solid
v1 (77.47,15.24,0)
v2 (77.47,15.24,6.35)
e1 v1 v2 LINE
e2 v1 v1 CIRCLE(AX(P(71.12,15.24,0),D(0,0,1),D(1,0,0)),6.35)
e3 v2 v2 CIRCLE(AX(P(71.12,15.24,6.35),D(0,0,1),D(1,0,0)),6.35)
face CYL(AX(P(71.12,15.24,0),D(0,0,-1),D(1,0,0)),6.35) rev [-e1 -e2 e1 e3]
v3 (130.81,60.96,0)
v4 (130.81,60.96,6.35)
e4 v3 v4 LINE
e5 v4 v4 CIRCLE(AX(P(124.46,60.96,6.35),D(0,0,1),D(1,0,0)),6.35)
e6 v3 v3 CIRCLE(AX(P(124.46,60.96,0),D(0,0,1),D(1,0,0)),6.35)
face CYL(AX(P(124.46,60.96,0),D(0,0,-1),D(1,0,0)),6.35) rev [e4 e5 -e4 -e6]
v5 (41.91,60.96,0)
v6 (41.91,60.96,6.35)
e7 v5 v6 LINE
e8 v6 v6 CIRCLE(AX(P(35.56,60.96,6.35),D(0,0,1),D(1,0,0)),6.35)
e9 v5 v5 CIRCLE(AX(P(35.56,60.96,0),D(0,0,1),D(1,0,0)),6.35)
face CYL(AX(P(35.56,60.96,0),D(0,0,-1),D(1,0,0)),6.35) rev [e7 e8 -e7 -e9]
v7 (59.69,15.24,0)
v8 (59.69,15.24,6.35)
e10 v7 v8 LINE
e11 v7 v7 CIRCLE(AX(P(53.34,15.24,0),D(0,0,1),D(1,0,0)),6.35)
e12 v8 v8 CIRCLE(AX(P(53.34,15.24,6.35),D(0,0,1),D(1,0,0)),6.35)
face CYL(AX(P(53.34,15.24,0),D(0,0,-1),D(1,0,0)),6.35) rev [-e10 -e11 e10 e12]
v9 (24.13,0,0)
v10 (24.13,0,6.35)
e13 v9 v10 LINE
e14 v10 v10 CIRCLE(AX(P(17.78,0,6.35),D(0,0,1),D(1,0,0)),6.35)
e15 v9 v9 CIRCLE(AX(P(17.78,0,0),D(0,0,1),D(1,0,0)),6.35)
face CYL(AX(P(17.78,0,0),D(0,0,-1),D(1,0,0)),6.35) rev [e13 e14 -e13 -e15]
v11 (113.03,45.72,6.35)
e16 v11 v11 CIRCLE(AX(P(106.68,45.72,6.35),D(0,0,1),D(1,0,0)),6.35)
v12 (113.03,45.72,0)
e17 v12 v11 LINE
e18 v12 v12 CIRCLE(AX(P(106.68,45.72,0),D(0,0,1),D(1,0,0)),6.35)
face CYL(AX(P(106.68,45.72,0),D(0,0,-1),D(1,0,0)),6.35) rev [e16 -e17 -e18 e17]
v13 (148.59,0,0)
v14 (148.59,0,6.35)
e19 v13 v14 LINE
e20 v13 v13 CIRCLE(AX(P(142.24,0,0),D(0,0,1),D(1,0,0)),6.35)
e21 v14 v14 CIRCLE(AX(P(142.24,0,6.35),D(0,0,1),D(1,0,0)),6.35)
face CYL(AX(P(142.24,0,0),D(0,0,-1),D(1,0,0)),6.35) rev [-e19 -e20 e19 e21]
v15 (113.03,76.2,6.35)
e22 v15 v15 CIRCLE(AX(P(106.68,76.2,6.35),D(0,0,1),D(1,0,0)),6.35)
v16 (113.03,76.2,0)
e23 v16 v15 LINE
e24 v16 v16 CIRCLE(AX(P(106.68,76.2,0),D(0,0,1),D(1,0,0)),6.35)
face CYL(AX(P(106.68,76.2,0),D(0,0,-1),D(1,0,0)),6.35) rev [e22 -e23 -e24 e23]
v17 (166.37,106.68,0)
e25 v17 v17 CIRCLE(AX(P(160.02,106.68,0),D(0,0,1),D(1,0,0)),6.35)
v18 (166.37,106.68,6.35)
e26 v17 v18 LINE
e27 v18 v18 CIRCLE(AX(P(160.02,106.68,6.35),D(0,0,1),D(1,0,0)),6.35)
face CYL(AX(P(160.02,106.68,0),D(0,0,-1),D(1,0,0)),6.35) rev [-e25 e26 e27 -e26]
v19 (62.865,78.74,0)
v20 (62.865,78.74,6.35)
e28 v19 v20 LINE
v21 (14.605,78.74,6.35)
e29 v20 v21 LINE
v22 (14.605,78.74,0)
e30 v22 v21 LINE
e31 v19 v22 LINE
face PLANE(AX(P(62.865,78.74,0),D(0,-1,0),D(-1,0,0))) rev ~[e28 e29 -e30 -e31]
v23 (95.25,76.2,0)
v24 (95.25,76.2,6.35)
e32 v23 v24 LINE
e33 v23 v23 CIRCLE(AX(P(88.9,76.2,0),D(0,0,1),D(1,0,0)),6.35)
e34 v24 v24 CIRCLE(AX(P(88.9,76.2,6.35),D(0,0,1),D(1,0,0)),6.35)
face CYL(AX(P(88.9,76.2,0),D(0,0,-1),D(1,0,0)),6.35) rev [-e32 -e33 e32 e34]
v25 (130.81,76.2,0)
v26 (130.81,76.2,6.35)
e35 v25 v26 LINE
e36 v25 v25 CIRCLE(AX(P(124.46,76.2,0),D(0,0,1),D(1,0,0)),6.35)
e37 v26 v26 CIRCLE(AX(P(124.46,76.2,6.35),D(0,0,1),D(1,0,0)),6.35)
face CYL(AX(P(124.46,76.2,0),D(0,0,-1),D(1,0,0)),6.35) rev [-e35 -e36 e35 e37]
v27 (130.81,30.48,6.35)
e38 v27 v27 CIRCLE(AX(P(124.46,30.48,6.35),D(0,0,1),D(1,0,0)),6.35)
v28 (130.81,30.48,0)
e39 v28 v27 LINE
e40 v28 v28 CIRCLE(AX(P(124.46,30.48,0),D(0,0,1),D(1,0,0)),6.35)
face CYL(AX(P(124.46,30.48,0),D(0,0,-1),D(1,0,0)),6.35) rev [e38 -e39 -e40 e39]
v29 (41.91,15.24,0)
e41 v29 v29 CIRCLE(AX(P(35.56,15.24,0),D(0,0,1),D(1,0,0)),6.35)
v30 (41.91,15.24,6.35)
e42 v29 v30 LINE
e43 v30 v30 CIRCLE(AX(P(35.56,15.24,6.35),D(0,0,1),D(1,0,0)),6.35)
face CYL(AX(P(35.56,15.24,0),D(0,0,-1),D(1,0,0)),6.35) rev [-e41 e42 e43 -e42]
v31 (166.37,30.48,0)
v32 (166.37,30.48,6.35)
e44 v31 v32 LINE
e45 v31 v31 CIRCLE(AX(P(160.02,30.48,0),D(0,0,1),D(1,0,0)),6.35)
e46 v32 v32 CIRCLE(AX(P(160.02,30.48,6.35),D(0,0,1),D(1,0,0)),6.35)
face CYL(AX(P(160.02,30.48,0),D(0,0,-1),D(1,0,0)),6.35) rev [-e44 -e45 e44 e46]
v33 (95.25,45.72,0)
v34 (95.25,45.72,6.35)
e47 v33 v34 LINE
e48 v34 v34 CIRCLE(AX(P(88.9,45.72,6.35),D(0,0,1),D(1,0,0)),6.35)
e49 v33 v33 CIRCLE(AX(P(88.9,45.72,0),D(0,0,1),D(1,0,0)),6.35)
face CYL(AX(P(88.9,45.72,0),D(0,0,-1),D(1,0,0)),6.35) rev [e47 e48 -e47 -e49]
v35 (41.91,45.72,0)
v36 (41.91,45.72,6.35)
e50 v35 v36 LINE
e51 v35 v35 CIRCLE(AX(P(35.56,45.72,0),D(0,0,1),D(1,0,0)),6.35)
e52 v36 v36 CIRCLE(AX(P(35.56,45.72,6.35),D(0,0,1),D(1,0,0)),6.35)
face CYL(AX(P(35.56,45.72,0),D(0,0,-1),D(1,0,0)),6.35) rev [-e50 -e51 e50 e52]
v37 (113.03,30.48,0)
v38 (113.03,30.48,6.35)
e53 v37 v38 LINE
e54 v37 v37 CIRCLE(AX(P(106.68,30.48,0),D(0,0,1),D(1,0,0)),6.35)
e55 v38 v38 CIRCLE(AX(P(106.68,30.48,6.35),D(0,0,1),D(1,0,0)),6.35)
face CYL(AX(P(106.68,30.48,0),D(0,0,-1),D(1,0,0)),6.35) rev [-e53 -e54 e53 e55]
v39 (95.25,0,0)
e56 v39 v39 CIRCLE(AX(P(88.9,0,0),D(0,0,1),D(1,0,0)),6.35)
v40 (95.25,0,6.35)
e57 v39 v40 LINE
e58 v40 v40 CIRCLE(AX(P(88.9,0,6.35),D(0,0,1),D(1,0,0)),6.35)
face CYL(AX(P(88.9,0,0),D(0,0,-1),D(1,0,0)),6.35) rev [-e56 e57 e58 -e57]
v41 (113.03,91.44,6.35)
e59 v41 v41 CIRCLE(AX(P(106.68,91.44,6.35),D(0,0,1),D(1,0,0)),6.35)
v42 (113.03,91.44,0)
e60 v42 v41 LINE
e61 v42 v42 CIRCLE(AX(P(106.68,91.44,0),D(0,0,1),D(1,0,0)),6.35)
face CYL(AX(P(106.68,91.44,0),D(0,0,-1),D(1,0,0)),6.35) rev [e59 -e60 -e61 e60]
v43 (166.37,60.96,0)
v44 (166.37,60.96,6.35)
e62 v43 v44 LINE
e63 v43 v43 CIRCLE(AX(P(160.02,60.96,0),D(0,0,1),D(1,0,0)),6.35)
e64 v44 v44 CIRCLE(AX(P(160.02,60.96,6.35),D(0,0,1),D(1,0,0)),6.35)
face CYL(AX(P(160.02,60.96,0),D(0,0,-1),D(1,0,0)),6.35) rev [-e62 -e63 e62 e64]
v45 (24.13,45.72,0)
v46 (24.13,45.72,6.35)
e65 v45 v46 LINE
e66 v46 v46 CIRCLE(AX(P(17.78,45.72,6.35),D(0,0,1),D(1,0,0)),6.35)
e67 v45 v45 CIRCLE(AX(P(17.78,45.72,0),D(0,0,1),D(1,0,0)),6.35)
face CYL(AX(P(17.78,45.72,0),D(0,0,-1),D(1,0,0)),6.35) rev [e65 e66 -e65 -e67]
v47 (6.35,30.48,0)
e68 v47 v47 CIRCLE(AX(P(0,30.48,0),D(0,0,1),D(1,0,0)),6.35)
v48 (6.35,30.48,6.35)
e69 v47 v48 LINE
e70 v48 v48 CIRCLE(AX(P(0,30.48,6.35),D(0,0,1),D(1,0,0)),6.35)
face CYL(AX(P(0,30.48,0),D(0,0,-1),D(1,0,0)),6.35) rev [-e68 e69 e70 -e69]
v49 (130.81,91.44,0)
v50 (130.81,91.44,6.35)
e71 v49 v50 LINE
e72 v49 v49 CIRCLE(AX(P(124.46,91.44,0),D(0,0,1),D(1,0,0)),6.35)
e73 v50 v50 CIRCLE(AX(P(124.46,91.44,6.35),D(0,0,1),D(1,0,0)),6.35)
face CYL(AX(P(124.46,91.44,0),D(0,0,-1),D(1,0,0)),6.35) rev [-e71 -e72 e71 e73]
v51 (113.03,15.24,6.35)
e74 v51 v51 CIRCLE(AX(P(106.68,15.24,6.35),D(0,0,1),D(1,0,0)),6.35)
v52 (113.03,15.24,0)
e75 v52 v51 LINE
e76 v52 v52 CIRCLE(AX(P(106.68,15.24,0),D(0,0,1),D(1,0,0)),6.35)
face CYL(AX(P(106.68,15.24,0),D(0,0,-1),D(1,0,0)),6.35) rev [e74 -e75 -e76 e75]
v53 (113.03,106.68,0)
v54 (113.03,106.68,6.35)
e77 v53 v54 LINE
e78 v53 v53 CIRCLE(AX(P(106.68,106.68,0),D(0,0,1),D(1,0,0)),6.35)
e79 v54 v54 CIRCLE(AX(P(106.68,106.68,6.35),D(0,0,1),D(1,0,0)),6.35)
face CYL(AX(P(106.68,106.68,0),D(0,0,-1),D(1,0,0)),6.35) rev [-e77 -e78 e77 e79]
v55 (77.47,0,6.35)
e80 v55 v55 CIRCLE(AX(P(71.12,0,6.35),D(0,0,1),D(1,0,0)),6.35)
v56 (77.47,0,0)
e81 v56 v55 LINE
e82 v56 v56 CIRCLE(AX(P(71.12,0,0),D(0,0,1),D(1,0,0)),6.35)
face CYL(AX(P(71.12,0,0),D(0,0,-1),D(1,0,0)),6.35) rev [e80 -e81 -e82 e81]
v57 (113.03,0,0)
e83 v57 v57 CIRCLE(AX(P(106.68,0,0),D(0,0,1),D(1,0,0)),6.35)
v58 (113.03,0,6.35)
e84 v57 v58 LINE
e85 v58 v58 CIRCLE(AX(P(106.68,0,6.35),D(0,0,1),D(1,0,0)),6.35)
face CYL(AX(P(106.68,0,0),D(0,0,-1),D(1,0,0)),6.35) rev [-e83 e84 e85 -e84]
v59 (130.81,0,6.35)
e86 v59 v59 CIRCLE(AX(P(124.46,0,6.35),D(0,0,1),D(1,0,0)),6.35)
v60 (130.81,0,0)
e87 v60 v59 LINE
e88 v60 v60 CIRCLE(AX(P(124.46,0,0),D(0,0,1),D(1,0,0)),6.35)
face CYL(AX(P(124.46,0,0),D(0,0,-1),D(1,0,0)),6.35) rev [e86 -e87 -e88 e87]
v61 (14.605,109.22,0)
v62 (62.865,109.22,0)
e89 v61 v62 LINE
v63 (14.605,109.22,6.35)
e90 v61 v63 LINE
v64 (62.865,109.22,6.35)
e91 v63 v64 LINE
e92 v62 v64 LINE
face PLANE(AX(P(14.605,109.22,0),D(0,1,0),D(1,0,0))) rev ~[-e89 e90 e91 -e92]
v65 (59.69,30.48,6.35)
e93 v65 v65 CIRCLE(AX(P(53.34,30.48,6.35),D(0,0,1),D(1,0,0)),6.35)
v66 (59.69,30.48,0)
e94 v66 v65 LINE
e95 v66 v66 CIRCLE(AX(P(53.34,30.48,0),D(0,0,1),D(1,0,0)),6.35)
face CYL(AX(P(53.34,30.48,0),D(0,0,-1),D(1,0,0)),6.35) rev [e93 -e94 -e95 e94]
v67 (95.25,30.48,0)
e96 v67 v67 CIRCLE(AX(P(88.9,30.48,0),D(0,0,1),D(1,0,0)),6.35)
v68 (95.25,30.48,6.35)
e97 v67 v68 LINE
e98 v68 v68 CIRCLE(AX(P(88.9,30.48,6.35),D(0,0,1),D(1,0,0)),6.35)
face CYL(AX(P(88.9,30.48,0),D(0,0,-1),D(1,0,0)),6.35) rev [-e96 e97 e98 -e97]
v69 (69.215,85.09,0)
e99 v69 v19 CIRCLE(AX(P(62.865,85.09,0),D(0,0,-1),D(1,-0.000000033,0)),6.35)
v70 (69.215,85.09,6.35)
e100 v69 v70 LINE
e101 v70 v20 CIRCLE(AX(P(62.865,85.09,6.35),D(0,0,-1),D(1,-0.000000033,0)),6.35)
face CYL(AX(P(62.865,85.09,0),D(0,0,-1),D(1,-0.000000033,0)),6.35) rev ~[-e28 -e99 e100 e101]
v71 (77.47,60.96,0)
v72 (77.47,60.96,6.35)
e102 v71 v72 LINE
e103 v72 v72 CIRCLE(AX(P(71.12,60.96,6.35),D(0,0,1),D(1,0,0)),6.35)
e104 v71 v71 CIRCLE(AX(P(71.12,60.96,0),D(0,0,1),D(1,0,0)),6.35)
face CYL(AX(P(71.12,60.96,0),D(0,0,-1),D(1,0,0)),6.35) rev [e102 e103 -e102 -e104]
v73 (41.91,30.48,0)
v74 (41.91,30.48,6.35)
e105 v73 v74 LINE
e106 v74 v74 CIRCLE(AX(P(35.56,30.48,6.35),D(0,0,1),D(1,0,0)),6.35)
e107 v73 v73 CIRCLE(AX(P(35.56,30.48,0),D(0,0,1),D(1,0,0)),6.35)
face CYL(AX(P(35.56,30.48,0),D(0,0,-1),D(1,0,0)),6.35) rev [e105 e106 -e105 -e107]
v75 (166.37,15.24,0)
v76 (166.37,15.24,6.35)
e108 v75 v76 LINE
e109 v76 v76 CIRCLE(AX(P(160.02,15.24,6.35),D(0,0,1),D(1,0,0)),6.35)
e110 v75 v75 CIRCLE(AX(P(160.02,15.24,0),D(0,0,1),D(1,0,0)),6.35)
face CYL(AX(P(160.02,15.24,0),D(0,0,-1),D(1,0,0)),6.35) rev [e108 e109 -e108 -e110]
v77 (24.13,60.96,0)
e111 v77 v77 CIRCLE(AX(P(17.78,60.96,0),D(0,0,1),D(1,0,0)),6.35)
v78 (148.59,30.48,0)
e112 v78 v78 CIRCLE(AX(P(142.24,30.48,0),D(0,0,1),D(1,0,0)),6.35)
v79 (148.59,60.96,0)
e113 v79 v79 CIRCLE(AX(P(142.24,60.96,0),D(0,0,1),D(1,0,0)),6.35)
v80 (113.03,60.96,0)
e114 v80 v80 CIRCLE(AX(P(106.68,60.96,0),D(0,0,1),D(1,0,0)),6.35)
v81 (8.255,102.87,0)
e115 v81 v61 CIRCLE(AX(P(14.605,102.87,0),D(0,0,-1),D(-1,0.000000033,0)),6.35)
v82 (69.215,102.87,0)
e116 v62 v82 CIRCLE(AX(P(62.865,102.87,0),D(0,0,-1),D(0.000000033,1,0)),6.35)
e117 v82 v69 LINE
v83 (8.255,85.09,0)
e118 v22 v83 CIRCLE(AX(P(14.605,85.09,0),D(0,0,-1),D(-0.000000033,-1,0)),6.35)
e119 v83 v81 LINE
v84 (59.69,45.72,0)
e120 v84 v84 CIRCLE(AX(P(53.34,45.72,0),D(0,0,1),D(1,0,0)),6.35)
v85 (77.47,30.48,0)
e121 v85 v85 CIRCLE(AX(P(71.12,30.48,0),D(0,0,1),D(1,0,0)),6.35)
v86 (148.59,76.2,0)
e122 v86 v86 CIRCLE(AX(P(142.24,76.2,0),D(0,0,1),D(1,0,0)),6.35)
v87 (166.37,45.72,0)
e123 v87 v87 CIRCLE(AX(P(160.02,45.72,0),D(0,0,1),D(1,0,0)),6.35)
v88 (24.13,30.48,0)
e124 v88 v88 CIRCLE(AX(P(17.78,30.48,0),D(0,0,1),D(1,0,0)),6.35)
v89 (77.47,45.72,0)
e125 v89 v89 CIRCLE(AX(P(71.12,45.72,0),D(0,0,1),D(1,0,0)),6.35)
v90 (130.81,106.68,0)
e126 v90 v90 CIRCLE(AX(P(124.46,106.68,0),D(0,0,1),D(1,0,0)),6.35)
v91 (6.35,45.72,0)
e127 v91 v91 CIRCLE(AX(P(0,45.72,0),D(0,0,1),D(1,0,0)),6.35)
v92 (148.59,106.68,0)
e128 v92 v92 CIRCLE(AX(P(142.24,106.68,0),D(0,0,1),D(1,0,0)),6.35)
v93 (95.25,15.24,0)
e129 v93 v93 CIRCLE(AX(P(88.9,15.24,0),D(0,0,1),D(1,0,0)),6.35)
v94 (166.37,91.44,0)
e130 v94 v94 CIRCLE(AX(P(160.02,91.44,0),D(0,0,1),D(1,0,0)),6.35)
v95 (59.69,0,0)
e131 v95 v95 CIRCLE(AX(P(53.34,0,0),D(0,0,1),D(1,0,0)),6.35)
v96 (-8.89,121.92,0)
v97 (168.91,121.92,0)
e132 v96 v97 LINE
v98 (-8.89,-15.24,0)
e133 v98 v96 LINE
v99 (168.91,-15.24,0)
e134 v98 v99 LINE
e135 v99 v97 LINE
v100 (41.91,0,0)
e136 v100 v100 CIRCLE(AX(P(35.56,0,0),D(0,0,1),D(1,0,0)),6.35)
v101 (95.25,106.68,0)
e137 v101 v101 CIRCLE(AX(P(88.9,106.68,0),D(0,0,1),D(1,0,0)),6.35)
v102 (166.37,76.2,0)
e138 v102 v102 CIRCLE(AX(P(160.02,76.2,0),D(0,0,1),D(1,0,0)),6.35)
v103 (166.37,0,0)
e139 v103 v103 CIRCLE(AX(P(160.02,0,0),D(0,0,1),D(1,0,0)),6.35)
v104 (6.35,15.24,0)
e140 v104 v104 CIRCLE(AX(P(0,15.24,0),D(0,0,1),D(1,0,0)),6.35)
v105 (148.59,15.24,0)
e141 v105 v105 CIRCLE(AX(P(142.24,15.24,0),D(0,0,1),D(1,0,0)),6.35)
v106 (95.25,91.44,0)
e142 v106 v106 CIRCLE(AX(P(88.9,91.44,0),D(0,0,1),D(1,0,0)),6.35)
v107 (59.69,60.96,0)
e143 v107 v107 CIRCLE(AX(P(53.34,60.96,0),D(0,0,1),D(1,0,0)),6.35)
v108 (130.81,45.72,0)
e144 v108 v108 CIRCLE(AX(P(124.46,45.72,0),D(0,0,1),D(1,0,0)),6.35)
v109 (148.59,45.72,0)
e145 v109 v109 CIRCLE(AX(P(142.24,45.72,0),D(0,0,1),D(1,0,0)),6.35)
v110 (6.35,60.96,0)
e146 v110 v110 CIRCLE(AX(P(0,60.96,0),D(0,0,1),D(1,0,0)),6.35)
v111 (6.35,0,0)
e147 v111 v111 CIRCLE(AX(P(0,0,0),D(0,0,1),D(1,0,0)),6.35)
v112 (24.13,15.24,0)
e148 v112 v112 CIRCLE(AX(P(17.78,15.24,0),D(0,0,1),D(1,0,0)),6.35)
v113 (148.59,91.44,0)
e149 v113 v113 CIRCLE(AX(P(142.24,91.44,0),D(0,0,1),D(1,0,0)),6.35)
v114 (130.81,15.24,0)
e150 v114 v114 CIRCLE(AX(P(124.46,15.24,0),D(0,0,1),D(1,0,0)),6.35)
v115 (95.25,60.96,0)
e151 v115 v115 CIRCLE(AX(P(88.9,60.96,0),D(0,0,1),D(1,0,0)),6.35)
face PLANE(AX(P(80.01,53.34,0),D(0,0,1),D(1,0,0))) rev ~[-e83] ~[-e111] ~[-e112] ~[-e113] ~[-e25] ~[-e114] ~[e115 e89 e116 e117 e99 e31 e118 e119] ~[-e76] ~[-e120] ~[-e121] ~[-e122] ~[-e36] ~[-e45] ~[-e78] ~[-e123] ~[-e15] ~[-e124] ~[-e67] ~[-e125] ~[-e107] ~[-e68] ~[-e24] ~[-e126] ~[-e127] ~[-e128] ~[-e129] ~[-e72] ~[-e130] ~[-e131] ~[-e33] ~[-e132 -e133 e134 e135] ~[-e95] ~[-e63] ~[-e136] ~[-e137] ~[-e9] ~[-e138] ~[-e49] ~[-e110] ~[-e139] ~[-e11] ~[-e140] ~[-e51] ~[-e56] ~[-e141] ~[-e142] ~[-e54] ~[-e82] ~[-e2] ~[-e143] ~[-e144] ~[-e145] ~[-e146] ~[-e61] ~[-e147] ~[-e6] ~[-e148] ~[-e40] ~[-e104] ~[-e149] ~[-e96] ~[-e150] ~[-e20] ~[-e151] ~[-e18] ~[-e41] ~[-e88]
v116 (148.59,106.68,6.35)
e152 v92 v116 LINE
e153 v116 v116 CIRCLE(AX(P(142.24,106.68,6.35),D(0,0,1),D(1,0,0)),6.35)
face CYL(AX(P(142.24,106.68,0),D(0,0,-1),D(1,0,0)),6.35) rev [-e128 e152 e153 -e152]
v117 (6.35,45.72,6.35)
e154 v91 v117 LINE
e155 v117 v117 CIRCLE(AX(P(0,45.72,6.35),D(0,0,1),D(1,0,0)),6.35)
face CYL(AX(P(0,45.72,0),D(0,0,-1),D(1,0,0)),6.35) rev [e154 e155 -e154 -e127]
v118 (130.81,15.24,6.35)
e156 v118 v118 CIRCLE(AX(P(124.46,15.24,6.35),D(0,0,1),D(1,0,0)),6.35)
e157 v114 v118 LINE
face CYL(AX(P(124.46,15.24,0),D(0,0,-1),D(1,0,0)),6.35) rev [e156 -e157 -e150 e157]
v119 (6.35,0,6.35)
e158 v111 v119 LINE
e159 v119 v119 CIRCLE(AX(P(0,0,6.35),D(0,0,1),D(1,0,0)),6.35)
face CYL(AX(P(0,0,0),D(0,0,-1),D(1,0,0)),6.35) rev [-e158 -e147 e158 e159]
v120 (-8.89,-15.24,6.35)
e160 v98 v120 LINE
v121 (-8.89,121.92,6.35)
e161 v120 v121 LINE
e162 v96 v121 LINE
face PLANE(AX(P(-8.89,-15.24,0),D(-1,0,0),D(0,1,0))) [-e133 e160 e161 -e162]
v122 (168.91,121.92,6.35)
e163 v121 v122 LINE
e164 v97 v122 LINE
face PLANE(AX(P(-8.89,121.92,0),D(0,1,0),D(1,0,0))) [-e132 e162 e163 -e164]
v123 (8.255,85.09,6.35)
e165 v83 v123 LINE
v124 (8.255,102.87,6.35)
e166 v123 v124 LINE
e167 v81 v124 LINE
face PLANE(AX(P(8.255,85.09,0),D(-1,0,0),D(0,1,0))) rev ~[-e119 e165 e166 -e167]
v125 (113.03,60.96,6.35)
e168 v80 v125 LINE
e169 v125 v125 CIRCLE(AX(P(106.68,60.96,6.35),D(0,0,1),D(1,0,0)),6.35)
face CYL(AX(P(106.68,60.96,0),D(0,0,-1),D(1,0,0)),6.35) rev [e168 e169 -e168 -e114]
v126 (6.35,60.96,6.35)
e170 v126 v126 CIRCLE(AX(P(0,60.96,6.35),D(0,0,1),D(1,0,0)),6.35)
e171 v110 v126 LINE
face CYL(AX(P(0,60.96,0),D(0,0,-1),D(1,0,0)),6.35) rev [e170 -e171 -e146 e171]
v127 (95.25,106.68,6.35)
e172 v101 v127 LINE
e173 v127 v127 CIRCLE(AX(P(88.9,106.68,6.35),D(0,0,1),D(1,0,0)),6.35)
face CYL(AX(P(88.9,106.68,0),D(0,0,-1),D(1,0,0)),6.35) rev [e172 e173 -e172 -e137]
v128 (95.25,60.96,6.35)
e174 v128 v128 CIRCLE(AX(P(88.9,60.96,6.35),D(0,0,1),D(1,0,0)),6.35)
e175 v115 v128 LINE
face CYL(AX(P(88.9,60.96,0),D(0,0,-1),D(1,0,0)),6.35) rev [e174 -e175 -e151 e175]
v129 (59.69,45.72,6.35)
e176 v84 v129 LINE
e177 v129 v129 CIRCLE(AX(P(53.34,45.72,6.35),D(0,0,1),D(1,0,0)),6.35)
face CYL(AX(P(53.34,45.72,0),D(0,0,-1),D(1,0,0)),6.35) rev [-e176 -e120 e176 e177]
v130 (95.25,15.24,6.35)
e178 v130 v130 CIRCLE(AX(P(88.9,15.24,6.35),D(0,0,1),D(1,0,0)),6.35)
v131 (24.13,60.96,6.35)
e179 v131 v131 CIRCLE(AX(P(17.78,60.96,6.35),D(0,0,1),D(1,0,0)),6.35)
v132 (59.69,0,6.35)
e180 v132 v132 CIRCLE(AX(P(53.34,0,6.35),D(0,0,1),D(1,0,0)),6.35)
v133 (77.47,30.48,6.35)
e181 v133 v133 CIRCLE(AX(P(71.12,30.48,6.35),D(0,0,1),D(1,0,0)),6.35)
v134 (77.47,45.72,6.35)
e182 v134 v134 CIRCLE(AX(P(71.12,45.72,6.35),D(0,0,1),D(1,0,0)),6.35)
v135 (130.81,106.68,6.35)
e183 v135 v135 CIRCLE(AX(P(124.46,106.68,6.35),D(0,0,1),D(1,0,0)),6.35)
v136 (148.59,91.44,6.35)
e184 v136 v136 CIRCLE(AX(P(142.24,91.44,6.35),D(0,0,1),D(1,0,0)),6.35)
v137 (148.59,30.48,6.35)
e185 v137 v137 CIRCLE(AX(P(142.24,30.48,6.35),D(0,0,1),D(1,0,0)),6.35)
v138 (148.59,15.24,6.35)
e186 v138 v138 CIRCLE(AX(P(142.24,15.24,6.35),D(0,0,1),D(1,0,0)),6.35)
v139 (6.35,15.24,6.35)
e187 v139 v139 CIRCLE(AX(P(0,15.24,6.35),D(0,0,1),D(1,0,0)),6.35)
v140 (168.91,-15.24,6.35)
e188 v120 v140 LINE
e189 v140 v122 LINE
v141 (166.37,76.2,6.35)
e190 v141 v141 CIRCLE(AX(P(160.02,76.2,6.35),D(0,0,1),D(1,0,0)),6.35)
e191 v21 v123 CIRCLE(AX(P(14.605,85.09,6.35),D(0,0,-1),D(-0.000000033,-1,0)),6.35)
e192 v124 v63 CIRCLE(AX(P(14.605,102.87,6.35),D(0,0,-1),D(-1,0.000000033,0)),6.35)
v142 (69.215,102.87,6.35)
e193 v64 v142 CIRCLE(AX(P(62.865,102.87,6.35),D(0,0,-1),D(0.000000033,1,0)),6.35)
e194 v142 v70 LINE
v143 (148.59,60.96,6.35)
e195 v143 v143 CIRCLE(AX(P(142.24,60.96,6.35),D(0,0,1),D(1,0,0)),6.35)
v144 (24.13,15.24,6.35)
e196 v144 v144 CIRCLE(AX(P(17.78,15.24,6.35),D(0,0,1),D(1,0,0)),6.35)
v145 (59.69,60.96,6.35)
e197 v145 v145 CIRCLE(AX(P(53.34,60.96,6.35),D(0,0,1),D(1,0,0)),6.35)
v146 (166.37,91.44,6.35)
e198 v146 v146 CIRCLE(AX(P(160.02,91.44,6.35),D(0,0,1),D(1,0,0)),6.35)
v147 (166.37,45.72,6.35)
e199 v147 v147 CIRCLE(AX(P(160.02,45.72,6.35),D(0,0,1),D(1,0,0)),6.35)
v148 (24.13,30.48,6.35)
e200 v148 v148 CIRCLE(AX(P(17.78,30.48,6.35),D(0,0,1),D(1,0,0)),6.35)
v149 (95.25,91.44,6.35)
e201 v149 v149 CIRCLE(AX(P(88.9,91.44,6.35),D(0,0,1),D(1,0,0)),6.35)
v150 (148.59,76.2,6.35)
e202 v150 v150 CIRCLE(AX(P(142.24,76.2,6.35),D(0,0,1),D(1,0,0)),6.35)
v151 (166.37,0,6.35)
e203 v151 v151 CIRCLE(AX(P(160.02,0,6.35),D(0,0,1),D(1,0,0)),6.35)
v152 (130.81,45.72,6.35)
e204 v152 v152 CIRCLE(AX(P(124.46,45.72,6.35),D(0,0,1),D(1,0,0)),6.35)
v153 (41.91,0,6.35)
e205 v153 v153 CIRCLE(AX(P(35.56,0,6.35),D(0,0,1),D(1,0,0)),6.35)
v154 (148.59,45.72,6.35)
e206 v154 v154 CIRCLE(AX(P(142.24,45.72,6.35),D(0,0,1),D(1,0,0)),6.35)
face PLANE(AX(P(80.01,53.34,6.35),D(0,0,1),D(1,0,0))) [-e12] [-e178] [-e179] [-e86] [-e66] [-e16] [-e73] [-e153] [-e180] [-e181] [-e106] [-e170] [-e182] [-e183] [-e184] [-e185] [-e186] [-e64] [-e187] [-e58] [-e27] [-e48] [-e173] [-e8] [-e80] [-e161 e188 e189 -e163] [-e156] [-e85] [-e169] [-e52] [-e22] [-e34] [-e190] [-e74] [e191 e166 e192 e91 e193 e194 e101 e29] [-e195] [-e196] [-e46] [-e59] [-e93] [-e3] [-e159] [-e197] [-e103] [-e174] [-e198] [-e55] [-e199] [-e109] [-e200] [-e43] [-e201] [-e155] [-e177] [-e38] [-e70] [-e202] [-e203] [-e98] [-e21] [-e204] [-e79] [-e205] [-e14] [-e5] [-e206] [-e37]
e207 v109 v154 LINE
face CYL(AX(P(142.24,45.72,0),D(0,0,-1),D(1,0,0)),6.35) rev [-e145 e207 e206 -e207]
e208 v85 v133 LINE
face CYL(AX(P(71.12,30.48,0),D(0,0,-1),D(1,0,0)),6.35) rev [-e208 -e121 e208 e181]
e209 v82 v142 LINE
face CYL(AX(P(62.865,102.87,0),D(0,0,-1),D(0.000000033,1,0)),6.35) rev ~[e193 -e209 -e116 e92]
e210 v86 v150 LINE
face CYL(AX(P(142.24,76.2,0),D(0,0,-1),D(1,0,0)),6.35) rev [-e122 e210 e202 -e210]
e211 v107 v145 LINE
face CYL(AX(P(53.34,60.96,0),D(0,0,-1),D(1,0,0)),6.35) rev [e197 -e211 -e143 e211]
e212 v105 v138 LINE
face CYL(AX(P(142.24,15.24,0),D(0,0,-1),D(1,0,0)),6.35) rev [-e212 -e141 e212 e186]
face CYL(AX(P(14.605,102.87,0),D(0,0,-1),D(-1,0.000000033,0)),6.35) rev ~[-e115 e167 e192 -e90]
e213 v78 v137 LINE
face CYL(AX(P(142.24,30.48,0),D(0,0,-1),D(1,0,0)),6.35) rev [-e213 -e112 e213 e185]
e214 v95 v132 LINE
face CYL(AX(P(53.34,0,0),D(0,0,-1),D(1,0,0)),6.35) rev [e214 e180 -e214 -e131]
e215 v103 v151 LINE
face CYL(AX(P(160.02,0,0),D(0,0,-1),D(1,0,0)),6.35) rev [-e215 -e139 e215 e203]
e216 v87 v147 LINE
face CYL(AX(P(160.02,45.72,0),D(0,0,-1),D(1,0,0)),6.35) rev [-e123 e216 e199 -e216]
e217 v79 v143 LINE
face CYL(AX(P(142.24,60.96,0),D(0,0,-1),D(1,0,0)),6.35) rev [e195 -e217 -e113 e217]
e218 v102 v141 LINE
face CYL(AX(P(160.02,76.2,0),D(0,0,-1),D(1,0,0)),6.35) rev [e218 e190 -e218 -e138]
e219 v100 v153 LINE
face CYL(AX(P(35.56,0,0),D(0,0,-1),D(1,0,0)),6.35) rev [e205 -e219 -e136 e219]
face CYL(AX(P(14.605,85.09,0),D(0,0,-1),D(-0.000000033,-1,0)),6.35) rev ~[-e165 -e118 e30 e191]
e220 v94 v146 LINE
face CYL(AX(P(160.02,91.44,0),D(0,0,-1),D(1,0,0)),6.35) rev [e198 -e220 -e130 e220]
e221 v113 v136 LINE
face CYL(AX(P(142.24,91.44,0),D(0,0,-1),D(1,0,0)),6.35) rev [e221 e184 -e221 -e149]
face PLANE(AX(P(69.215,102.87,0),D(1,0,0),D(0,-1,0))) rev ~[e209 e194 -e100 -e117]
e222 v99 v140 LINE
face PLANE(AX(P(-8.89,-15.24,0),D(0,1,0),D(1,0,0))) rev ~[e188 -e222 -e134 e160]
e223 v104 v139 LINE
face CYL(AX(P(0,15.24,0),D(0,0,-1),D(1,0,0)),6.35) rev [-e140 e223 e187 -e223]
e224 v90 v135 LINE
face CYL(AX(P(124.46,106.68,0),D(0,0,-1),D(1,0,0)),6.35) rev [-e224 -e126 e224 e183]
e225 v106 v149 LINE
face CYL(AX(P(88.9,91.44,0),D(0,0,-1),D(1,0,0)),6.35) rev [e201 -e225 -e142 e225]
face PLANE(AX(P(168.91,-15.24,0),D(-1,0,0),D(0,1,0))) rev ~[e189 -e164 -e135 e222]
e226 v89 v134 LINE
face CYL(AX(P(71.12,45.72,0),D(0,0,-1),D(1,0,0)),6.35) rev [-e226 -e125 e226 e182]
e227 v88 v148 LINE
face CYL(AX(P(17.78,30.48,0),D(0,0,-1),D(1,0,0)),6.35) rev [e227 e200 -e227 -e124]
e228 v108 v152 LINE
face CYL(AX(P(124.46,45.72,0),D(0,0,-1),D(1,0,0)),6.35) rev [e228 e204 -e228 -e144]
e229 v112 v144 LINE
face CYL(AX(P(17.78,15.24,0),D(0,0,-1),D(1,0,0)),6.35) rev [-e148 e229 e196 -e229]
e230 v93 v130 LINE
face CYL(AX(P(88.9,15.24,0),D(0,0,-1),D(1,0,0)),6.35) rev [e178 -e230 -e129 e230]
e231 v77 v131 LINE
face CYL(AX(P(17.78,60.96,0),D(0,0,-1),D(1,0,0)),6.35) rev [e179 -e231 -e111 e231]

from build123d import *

# Parameters (mm, degrees)
F0_W     = 177.8
F0_H     = 137.16
F0_R     = 6.35
F1_DEPTH = 6.35


with BuildPart() as f1:
    # F0 (on Top) → F1 (new body)
    with BuildSketch(Plane.XY):
        with Locations((80.01, 53.34)):
            Rectangle(F0_W, F0_H)
        Circle(F0_R, mode=Mode.SUBTRACT)
        with Locations((17.78, 0)):
            Circle(F0_R, mode=Mode.SUBTRACT)
        with Locations((0, 15.24)):
            Circle(F0_R, mode=Mode.SUBTRACT)
        with Locations((17.78, 15.24)):
            Circle(F0_R, mode=Mode.SUBTRACT)
        with Locations((35.56, 0)):
            Circle(F0_R, mode=Mode.SUBTRACT)
        with Locations((53.34, 0)):
            Circle(F0_R, mode=Mode.SUBTRACT)
        with Locations((71.12, 0)):
            Circle(F0_R, mode=Mode.SUBTRACT)
        with Locations((35.56, 15.24)):
            Circle(F0_R, mode=Mode.SUBTRACT)
        with Locations((53.34, 15.24)):
            Circle(F0_R, mode=Mode.SUBTRACT)
        with Locations((71.12, 15.24)):
            Circle(F0_R, mode=Mode.SUBTRACT)
        with Locations((0, 30.48)):
            Circle(F0_R, mode=Mode.SUBTRACT)
        with Locations((17.78, 30.48)):
            Circle(F0_R, mode=Mode.SUBTRACT)
        with Locations((0, 45.72)):
            Circle(F0_R, mode=Mode.SUBTRACT)
        with Locations((17.78, 45.72)):
            Circle(F0_R, mode=Mode.SUBTRACT)
        with Locations((35.56, 30.48)):
            Circle(F0_R, mode=Mode.SUBTRACT)
        with Locations((53.34, 30.48)):
            Circle(F0_R, mode=Mode.SUBTRACT)
        with Locations((71.12, 30.48)):
            Circle(F0_R, mode=Mode.SUBTRACT)
        with Locations((35.56, 45.72)):
            Circle(F0_R, mode=Mode.SUBTRACT)
        with Locations((53.34, 45.72)):
            Circle(F0_R, mode=Mode.SUBTRACT)
        with Locations((71.12, 45.72)):
            Circle(F0_R, mode=Mode.SUBTRACT)
        with Locations((88.9, 0)):
            Circle(F0_R, mode=Mode.SUBTRACT)
        with Locations((106.68, 0)):
            Circle(F0_R, mode=Mode.SUBTRACT)
        with Locations((124.46, 0)):
            Circle(F0_R, mode=Mode.SUBTRACT)
        with Locations((88.9, 15.24)):
            Circle(F0_R, mode=Mode.SUBTRACT)
        with Locations((106.68, 15.24)):
            Circle(F0_R, mode=Mode.SUBTRACT)
        with Locations((124.46, 15.24)):
            Circle(F0_R, mode=Mode.SUBTRACT)
        with Locations((142.24, 0)):
            Circle(F0_R, mode=Mode.SUBTRACT)
        with Locations((160.02, 0)):
            Circle(F0_R, mode=Mode.SUBTRACT)
        with Locations((142.24, 15.24)):
            Circle(F0_R, mode=Mode.SUBTRACT)
        with Locations((160.02, 15.24)):
            Circle(F0_R, mode=Mode.SUBTRACT)
        with Locations((88.9, 30.48)):
            Circle(F0_R, mode=Mode.SUBTRACT)
        with Locations((106.68, 30.48)):
            Circle(F0_R, mode=Mode.SUBTRACT)
        with Locations((124.46, 30.48)):
            Circle(F0_R, mode=Mode.SUBTRACT)
        with Locations((88.9, 45.72)):
            Circle(F0_R, mode=Mode.SUBTRACT)
        with Locations((106.68, 45.72)):
            Circle(F0_R, mode=Mode.SUBTRACT)
        with Locations((124.46, 45.72)):
            Circle(F0_R, mode=Mode.SUBTRACT)
        with Locations((142.24, 30.48)):
            Circle(F0_R, mode=Mode.SUBTRACT)
        with Locations((160.02, 30.48)):
            Circle(F0_R, mode=Mode.SUBTRACT)
        with Locations((142.24, 45.72)):
            Circle(F0_R, mode=Mode.SUBTRACT)
        with Locations((160.02, 45.72)):
            Circle(F0_R, mode=Mode.SUBTRACT)
        with Locations((0, 60.96)):
            Circle(F0_R, mode=Mode.SUBTRACT)
        with Locations((17.78, 60.96)):
            Circle(F0_R, mode=Mode.SUBTRACT)
        with Locations((35.56, 60.96)):
            Circle(F0_R, mode=Mode.SUBTRACT)
        with Locations((53.34, 60.96)):
            Circle(F0_R, mode=Mode.SUBTRACT)
        with Locations((71.12, 60.96)):
            Circle(F0_R, mode=Mode.SUBTRACT)
        with BuildLine():
            ThreePointArc((8.255, 102.87), (10.114872, 107.360128), (14.605, 109.22))
            Line((14.605, 109.22), (62.865, 109.22))
            ThreePointArc((62.865, 109.22), (67.355128, 107.360128), (69.215, 102.87))
            Line((69.215, 102.87), (69.215, 85.09))
            ThreePointArc((69.215, 85.09), (67.355128, 80.599872), (62.865, 78.74))
            Line((62.865, 78.74), (14.605, 78.74))
            ThreePointArc((14.605, 78.74), (10.114872, 80.599872), (8.255, 85.09))
            Line((8.255, 85.09), (8.255, 102.87))
        make_face(mode=Mode.SUBTRACT)
        with Locations((88.9, 60.96)):
            Circle(F0_R, mode=Mode.SUBTRACT)
        with Locations((106.68, 60.96)):
            Circle(F0_R, mode=Mode.SUBTRACT)
        with Locations((124.46, 60.96)):
            Circle(F0_R, mode=Mode.SUBTRACT)
        with Locations((88.9, 76.2)):
            Circle(F0_R, mode=Mode.SUBTRACT)
        with Locations((106.68, 76.2)):
            Circle(F0_R, mode=Mode.SUBTRACT)
        with Locations((124.46, 76.2)):
            Circle(F0_R, mode=Mode.SUBTRACT)
        with Locations((142.24, 60.96)):
            Circle(F0_R, mode=Mode.SUBTRACT)
        with Locations((160.02, 60.96)):
            Circle(F0_R, mode=Mode.SUBTRACT)
        with Locations((142.24, 76.2)):
            Circle(F0_R, mode=Mode.SUBTRACT)
        with Locations((160.02, 76.2)):
            Circle(F0_R, mode=Mode.SUBTRACT)
        with Locations((88.9, 91.44)):
            Circle(F0_R, mode=Mode.SUBTRACT)
        with Locations((106.68, 91.44)):
            Circle(F0_R, mode=Mode.SUBTRACT)
        with Locations((124.46, 91.44)):
            Circle(F0_R, mode=Mode.SUBTRACT)
        with Locations((88.9, 106.68)):
            Circle(F0_R, mode=Mode.SUBTRACT)
        with Locations((106.68, 106.68)):
            Circle(F0_R, mode=Mode.SUBTRACT)
        with Locations((124.46, 106.68)):
            Circle(F0_R, mode=Mode.SUBTRACT)
        with Locations((142.24, 91.44)):
            Circle(F0_R, mode=Mode.SUBTRACT)
        with Locations((160.02, 91.44)):
            Circle(F0_R, mode=Mode.SUBTRACT)
        with Locations((142.24, 106.68)):
            Circle(F0_R, mode=Mode.SUBTRACT)
        with Locations((160.02, 106.68)):
            Circle(F0_R, mode=Mode.SUBTRACT)
    extrude(amount=F1_DEPTH)


solid = f1.part
